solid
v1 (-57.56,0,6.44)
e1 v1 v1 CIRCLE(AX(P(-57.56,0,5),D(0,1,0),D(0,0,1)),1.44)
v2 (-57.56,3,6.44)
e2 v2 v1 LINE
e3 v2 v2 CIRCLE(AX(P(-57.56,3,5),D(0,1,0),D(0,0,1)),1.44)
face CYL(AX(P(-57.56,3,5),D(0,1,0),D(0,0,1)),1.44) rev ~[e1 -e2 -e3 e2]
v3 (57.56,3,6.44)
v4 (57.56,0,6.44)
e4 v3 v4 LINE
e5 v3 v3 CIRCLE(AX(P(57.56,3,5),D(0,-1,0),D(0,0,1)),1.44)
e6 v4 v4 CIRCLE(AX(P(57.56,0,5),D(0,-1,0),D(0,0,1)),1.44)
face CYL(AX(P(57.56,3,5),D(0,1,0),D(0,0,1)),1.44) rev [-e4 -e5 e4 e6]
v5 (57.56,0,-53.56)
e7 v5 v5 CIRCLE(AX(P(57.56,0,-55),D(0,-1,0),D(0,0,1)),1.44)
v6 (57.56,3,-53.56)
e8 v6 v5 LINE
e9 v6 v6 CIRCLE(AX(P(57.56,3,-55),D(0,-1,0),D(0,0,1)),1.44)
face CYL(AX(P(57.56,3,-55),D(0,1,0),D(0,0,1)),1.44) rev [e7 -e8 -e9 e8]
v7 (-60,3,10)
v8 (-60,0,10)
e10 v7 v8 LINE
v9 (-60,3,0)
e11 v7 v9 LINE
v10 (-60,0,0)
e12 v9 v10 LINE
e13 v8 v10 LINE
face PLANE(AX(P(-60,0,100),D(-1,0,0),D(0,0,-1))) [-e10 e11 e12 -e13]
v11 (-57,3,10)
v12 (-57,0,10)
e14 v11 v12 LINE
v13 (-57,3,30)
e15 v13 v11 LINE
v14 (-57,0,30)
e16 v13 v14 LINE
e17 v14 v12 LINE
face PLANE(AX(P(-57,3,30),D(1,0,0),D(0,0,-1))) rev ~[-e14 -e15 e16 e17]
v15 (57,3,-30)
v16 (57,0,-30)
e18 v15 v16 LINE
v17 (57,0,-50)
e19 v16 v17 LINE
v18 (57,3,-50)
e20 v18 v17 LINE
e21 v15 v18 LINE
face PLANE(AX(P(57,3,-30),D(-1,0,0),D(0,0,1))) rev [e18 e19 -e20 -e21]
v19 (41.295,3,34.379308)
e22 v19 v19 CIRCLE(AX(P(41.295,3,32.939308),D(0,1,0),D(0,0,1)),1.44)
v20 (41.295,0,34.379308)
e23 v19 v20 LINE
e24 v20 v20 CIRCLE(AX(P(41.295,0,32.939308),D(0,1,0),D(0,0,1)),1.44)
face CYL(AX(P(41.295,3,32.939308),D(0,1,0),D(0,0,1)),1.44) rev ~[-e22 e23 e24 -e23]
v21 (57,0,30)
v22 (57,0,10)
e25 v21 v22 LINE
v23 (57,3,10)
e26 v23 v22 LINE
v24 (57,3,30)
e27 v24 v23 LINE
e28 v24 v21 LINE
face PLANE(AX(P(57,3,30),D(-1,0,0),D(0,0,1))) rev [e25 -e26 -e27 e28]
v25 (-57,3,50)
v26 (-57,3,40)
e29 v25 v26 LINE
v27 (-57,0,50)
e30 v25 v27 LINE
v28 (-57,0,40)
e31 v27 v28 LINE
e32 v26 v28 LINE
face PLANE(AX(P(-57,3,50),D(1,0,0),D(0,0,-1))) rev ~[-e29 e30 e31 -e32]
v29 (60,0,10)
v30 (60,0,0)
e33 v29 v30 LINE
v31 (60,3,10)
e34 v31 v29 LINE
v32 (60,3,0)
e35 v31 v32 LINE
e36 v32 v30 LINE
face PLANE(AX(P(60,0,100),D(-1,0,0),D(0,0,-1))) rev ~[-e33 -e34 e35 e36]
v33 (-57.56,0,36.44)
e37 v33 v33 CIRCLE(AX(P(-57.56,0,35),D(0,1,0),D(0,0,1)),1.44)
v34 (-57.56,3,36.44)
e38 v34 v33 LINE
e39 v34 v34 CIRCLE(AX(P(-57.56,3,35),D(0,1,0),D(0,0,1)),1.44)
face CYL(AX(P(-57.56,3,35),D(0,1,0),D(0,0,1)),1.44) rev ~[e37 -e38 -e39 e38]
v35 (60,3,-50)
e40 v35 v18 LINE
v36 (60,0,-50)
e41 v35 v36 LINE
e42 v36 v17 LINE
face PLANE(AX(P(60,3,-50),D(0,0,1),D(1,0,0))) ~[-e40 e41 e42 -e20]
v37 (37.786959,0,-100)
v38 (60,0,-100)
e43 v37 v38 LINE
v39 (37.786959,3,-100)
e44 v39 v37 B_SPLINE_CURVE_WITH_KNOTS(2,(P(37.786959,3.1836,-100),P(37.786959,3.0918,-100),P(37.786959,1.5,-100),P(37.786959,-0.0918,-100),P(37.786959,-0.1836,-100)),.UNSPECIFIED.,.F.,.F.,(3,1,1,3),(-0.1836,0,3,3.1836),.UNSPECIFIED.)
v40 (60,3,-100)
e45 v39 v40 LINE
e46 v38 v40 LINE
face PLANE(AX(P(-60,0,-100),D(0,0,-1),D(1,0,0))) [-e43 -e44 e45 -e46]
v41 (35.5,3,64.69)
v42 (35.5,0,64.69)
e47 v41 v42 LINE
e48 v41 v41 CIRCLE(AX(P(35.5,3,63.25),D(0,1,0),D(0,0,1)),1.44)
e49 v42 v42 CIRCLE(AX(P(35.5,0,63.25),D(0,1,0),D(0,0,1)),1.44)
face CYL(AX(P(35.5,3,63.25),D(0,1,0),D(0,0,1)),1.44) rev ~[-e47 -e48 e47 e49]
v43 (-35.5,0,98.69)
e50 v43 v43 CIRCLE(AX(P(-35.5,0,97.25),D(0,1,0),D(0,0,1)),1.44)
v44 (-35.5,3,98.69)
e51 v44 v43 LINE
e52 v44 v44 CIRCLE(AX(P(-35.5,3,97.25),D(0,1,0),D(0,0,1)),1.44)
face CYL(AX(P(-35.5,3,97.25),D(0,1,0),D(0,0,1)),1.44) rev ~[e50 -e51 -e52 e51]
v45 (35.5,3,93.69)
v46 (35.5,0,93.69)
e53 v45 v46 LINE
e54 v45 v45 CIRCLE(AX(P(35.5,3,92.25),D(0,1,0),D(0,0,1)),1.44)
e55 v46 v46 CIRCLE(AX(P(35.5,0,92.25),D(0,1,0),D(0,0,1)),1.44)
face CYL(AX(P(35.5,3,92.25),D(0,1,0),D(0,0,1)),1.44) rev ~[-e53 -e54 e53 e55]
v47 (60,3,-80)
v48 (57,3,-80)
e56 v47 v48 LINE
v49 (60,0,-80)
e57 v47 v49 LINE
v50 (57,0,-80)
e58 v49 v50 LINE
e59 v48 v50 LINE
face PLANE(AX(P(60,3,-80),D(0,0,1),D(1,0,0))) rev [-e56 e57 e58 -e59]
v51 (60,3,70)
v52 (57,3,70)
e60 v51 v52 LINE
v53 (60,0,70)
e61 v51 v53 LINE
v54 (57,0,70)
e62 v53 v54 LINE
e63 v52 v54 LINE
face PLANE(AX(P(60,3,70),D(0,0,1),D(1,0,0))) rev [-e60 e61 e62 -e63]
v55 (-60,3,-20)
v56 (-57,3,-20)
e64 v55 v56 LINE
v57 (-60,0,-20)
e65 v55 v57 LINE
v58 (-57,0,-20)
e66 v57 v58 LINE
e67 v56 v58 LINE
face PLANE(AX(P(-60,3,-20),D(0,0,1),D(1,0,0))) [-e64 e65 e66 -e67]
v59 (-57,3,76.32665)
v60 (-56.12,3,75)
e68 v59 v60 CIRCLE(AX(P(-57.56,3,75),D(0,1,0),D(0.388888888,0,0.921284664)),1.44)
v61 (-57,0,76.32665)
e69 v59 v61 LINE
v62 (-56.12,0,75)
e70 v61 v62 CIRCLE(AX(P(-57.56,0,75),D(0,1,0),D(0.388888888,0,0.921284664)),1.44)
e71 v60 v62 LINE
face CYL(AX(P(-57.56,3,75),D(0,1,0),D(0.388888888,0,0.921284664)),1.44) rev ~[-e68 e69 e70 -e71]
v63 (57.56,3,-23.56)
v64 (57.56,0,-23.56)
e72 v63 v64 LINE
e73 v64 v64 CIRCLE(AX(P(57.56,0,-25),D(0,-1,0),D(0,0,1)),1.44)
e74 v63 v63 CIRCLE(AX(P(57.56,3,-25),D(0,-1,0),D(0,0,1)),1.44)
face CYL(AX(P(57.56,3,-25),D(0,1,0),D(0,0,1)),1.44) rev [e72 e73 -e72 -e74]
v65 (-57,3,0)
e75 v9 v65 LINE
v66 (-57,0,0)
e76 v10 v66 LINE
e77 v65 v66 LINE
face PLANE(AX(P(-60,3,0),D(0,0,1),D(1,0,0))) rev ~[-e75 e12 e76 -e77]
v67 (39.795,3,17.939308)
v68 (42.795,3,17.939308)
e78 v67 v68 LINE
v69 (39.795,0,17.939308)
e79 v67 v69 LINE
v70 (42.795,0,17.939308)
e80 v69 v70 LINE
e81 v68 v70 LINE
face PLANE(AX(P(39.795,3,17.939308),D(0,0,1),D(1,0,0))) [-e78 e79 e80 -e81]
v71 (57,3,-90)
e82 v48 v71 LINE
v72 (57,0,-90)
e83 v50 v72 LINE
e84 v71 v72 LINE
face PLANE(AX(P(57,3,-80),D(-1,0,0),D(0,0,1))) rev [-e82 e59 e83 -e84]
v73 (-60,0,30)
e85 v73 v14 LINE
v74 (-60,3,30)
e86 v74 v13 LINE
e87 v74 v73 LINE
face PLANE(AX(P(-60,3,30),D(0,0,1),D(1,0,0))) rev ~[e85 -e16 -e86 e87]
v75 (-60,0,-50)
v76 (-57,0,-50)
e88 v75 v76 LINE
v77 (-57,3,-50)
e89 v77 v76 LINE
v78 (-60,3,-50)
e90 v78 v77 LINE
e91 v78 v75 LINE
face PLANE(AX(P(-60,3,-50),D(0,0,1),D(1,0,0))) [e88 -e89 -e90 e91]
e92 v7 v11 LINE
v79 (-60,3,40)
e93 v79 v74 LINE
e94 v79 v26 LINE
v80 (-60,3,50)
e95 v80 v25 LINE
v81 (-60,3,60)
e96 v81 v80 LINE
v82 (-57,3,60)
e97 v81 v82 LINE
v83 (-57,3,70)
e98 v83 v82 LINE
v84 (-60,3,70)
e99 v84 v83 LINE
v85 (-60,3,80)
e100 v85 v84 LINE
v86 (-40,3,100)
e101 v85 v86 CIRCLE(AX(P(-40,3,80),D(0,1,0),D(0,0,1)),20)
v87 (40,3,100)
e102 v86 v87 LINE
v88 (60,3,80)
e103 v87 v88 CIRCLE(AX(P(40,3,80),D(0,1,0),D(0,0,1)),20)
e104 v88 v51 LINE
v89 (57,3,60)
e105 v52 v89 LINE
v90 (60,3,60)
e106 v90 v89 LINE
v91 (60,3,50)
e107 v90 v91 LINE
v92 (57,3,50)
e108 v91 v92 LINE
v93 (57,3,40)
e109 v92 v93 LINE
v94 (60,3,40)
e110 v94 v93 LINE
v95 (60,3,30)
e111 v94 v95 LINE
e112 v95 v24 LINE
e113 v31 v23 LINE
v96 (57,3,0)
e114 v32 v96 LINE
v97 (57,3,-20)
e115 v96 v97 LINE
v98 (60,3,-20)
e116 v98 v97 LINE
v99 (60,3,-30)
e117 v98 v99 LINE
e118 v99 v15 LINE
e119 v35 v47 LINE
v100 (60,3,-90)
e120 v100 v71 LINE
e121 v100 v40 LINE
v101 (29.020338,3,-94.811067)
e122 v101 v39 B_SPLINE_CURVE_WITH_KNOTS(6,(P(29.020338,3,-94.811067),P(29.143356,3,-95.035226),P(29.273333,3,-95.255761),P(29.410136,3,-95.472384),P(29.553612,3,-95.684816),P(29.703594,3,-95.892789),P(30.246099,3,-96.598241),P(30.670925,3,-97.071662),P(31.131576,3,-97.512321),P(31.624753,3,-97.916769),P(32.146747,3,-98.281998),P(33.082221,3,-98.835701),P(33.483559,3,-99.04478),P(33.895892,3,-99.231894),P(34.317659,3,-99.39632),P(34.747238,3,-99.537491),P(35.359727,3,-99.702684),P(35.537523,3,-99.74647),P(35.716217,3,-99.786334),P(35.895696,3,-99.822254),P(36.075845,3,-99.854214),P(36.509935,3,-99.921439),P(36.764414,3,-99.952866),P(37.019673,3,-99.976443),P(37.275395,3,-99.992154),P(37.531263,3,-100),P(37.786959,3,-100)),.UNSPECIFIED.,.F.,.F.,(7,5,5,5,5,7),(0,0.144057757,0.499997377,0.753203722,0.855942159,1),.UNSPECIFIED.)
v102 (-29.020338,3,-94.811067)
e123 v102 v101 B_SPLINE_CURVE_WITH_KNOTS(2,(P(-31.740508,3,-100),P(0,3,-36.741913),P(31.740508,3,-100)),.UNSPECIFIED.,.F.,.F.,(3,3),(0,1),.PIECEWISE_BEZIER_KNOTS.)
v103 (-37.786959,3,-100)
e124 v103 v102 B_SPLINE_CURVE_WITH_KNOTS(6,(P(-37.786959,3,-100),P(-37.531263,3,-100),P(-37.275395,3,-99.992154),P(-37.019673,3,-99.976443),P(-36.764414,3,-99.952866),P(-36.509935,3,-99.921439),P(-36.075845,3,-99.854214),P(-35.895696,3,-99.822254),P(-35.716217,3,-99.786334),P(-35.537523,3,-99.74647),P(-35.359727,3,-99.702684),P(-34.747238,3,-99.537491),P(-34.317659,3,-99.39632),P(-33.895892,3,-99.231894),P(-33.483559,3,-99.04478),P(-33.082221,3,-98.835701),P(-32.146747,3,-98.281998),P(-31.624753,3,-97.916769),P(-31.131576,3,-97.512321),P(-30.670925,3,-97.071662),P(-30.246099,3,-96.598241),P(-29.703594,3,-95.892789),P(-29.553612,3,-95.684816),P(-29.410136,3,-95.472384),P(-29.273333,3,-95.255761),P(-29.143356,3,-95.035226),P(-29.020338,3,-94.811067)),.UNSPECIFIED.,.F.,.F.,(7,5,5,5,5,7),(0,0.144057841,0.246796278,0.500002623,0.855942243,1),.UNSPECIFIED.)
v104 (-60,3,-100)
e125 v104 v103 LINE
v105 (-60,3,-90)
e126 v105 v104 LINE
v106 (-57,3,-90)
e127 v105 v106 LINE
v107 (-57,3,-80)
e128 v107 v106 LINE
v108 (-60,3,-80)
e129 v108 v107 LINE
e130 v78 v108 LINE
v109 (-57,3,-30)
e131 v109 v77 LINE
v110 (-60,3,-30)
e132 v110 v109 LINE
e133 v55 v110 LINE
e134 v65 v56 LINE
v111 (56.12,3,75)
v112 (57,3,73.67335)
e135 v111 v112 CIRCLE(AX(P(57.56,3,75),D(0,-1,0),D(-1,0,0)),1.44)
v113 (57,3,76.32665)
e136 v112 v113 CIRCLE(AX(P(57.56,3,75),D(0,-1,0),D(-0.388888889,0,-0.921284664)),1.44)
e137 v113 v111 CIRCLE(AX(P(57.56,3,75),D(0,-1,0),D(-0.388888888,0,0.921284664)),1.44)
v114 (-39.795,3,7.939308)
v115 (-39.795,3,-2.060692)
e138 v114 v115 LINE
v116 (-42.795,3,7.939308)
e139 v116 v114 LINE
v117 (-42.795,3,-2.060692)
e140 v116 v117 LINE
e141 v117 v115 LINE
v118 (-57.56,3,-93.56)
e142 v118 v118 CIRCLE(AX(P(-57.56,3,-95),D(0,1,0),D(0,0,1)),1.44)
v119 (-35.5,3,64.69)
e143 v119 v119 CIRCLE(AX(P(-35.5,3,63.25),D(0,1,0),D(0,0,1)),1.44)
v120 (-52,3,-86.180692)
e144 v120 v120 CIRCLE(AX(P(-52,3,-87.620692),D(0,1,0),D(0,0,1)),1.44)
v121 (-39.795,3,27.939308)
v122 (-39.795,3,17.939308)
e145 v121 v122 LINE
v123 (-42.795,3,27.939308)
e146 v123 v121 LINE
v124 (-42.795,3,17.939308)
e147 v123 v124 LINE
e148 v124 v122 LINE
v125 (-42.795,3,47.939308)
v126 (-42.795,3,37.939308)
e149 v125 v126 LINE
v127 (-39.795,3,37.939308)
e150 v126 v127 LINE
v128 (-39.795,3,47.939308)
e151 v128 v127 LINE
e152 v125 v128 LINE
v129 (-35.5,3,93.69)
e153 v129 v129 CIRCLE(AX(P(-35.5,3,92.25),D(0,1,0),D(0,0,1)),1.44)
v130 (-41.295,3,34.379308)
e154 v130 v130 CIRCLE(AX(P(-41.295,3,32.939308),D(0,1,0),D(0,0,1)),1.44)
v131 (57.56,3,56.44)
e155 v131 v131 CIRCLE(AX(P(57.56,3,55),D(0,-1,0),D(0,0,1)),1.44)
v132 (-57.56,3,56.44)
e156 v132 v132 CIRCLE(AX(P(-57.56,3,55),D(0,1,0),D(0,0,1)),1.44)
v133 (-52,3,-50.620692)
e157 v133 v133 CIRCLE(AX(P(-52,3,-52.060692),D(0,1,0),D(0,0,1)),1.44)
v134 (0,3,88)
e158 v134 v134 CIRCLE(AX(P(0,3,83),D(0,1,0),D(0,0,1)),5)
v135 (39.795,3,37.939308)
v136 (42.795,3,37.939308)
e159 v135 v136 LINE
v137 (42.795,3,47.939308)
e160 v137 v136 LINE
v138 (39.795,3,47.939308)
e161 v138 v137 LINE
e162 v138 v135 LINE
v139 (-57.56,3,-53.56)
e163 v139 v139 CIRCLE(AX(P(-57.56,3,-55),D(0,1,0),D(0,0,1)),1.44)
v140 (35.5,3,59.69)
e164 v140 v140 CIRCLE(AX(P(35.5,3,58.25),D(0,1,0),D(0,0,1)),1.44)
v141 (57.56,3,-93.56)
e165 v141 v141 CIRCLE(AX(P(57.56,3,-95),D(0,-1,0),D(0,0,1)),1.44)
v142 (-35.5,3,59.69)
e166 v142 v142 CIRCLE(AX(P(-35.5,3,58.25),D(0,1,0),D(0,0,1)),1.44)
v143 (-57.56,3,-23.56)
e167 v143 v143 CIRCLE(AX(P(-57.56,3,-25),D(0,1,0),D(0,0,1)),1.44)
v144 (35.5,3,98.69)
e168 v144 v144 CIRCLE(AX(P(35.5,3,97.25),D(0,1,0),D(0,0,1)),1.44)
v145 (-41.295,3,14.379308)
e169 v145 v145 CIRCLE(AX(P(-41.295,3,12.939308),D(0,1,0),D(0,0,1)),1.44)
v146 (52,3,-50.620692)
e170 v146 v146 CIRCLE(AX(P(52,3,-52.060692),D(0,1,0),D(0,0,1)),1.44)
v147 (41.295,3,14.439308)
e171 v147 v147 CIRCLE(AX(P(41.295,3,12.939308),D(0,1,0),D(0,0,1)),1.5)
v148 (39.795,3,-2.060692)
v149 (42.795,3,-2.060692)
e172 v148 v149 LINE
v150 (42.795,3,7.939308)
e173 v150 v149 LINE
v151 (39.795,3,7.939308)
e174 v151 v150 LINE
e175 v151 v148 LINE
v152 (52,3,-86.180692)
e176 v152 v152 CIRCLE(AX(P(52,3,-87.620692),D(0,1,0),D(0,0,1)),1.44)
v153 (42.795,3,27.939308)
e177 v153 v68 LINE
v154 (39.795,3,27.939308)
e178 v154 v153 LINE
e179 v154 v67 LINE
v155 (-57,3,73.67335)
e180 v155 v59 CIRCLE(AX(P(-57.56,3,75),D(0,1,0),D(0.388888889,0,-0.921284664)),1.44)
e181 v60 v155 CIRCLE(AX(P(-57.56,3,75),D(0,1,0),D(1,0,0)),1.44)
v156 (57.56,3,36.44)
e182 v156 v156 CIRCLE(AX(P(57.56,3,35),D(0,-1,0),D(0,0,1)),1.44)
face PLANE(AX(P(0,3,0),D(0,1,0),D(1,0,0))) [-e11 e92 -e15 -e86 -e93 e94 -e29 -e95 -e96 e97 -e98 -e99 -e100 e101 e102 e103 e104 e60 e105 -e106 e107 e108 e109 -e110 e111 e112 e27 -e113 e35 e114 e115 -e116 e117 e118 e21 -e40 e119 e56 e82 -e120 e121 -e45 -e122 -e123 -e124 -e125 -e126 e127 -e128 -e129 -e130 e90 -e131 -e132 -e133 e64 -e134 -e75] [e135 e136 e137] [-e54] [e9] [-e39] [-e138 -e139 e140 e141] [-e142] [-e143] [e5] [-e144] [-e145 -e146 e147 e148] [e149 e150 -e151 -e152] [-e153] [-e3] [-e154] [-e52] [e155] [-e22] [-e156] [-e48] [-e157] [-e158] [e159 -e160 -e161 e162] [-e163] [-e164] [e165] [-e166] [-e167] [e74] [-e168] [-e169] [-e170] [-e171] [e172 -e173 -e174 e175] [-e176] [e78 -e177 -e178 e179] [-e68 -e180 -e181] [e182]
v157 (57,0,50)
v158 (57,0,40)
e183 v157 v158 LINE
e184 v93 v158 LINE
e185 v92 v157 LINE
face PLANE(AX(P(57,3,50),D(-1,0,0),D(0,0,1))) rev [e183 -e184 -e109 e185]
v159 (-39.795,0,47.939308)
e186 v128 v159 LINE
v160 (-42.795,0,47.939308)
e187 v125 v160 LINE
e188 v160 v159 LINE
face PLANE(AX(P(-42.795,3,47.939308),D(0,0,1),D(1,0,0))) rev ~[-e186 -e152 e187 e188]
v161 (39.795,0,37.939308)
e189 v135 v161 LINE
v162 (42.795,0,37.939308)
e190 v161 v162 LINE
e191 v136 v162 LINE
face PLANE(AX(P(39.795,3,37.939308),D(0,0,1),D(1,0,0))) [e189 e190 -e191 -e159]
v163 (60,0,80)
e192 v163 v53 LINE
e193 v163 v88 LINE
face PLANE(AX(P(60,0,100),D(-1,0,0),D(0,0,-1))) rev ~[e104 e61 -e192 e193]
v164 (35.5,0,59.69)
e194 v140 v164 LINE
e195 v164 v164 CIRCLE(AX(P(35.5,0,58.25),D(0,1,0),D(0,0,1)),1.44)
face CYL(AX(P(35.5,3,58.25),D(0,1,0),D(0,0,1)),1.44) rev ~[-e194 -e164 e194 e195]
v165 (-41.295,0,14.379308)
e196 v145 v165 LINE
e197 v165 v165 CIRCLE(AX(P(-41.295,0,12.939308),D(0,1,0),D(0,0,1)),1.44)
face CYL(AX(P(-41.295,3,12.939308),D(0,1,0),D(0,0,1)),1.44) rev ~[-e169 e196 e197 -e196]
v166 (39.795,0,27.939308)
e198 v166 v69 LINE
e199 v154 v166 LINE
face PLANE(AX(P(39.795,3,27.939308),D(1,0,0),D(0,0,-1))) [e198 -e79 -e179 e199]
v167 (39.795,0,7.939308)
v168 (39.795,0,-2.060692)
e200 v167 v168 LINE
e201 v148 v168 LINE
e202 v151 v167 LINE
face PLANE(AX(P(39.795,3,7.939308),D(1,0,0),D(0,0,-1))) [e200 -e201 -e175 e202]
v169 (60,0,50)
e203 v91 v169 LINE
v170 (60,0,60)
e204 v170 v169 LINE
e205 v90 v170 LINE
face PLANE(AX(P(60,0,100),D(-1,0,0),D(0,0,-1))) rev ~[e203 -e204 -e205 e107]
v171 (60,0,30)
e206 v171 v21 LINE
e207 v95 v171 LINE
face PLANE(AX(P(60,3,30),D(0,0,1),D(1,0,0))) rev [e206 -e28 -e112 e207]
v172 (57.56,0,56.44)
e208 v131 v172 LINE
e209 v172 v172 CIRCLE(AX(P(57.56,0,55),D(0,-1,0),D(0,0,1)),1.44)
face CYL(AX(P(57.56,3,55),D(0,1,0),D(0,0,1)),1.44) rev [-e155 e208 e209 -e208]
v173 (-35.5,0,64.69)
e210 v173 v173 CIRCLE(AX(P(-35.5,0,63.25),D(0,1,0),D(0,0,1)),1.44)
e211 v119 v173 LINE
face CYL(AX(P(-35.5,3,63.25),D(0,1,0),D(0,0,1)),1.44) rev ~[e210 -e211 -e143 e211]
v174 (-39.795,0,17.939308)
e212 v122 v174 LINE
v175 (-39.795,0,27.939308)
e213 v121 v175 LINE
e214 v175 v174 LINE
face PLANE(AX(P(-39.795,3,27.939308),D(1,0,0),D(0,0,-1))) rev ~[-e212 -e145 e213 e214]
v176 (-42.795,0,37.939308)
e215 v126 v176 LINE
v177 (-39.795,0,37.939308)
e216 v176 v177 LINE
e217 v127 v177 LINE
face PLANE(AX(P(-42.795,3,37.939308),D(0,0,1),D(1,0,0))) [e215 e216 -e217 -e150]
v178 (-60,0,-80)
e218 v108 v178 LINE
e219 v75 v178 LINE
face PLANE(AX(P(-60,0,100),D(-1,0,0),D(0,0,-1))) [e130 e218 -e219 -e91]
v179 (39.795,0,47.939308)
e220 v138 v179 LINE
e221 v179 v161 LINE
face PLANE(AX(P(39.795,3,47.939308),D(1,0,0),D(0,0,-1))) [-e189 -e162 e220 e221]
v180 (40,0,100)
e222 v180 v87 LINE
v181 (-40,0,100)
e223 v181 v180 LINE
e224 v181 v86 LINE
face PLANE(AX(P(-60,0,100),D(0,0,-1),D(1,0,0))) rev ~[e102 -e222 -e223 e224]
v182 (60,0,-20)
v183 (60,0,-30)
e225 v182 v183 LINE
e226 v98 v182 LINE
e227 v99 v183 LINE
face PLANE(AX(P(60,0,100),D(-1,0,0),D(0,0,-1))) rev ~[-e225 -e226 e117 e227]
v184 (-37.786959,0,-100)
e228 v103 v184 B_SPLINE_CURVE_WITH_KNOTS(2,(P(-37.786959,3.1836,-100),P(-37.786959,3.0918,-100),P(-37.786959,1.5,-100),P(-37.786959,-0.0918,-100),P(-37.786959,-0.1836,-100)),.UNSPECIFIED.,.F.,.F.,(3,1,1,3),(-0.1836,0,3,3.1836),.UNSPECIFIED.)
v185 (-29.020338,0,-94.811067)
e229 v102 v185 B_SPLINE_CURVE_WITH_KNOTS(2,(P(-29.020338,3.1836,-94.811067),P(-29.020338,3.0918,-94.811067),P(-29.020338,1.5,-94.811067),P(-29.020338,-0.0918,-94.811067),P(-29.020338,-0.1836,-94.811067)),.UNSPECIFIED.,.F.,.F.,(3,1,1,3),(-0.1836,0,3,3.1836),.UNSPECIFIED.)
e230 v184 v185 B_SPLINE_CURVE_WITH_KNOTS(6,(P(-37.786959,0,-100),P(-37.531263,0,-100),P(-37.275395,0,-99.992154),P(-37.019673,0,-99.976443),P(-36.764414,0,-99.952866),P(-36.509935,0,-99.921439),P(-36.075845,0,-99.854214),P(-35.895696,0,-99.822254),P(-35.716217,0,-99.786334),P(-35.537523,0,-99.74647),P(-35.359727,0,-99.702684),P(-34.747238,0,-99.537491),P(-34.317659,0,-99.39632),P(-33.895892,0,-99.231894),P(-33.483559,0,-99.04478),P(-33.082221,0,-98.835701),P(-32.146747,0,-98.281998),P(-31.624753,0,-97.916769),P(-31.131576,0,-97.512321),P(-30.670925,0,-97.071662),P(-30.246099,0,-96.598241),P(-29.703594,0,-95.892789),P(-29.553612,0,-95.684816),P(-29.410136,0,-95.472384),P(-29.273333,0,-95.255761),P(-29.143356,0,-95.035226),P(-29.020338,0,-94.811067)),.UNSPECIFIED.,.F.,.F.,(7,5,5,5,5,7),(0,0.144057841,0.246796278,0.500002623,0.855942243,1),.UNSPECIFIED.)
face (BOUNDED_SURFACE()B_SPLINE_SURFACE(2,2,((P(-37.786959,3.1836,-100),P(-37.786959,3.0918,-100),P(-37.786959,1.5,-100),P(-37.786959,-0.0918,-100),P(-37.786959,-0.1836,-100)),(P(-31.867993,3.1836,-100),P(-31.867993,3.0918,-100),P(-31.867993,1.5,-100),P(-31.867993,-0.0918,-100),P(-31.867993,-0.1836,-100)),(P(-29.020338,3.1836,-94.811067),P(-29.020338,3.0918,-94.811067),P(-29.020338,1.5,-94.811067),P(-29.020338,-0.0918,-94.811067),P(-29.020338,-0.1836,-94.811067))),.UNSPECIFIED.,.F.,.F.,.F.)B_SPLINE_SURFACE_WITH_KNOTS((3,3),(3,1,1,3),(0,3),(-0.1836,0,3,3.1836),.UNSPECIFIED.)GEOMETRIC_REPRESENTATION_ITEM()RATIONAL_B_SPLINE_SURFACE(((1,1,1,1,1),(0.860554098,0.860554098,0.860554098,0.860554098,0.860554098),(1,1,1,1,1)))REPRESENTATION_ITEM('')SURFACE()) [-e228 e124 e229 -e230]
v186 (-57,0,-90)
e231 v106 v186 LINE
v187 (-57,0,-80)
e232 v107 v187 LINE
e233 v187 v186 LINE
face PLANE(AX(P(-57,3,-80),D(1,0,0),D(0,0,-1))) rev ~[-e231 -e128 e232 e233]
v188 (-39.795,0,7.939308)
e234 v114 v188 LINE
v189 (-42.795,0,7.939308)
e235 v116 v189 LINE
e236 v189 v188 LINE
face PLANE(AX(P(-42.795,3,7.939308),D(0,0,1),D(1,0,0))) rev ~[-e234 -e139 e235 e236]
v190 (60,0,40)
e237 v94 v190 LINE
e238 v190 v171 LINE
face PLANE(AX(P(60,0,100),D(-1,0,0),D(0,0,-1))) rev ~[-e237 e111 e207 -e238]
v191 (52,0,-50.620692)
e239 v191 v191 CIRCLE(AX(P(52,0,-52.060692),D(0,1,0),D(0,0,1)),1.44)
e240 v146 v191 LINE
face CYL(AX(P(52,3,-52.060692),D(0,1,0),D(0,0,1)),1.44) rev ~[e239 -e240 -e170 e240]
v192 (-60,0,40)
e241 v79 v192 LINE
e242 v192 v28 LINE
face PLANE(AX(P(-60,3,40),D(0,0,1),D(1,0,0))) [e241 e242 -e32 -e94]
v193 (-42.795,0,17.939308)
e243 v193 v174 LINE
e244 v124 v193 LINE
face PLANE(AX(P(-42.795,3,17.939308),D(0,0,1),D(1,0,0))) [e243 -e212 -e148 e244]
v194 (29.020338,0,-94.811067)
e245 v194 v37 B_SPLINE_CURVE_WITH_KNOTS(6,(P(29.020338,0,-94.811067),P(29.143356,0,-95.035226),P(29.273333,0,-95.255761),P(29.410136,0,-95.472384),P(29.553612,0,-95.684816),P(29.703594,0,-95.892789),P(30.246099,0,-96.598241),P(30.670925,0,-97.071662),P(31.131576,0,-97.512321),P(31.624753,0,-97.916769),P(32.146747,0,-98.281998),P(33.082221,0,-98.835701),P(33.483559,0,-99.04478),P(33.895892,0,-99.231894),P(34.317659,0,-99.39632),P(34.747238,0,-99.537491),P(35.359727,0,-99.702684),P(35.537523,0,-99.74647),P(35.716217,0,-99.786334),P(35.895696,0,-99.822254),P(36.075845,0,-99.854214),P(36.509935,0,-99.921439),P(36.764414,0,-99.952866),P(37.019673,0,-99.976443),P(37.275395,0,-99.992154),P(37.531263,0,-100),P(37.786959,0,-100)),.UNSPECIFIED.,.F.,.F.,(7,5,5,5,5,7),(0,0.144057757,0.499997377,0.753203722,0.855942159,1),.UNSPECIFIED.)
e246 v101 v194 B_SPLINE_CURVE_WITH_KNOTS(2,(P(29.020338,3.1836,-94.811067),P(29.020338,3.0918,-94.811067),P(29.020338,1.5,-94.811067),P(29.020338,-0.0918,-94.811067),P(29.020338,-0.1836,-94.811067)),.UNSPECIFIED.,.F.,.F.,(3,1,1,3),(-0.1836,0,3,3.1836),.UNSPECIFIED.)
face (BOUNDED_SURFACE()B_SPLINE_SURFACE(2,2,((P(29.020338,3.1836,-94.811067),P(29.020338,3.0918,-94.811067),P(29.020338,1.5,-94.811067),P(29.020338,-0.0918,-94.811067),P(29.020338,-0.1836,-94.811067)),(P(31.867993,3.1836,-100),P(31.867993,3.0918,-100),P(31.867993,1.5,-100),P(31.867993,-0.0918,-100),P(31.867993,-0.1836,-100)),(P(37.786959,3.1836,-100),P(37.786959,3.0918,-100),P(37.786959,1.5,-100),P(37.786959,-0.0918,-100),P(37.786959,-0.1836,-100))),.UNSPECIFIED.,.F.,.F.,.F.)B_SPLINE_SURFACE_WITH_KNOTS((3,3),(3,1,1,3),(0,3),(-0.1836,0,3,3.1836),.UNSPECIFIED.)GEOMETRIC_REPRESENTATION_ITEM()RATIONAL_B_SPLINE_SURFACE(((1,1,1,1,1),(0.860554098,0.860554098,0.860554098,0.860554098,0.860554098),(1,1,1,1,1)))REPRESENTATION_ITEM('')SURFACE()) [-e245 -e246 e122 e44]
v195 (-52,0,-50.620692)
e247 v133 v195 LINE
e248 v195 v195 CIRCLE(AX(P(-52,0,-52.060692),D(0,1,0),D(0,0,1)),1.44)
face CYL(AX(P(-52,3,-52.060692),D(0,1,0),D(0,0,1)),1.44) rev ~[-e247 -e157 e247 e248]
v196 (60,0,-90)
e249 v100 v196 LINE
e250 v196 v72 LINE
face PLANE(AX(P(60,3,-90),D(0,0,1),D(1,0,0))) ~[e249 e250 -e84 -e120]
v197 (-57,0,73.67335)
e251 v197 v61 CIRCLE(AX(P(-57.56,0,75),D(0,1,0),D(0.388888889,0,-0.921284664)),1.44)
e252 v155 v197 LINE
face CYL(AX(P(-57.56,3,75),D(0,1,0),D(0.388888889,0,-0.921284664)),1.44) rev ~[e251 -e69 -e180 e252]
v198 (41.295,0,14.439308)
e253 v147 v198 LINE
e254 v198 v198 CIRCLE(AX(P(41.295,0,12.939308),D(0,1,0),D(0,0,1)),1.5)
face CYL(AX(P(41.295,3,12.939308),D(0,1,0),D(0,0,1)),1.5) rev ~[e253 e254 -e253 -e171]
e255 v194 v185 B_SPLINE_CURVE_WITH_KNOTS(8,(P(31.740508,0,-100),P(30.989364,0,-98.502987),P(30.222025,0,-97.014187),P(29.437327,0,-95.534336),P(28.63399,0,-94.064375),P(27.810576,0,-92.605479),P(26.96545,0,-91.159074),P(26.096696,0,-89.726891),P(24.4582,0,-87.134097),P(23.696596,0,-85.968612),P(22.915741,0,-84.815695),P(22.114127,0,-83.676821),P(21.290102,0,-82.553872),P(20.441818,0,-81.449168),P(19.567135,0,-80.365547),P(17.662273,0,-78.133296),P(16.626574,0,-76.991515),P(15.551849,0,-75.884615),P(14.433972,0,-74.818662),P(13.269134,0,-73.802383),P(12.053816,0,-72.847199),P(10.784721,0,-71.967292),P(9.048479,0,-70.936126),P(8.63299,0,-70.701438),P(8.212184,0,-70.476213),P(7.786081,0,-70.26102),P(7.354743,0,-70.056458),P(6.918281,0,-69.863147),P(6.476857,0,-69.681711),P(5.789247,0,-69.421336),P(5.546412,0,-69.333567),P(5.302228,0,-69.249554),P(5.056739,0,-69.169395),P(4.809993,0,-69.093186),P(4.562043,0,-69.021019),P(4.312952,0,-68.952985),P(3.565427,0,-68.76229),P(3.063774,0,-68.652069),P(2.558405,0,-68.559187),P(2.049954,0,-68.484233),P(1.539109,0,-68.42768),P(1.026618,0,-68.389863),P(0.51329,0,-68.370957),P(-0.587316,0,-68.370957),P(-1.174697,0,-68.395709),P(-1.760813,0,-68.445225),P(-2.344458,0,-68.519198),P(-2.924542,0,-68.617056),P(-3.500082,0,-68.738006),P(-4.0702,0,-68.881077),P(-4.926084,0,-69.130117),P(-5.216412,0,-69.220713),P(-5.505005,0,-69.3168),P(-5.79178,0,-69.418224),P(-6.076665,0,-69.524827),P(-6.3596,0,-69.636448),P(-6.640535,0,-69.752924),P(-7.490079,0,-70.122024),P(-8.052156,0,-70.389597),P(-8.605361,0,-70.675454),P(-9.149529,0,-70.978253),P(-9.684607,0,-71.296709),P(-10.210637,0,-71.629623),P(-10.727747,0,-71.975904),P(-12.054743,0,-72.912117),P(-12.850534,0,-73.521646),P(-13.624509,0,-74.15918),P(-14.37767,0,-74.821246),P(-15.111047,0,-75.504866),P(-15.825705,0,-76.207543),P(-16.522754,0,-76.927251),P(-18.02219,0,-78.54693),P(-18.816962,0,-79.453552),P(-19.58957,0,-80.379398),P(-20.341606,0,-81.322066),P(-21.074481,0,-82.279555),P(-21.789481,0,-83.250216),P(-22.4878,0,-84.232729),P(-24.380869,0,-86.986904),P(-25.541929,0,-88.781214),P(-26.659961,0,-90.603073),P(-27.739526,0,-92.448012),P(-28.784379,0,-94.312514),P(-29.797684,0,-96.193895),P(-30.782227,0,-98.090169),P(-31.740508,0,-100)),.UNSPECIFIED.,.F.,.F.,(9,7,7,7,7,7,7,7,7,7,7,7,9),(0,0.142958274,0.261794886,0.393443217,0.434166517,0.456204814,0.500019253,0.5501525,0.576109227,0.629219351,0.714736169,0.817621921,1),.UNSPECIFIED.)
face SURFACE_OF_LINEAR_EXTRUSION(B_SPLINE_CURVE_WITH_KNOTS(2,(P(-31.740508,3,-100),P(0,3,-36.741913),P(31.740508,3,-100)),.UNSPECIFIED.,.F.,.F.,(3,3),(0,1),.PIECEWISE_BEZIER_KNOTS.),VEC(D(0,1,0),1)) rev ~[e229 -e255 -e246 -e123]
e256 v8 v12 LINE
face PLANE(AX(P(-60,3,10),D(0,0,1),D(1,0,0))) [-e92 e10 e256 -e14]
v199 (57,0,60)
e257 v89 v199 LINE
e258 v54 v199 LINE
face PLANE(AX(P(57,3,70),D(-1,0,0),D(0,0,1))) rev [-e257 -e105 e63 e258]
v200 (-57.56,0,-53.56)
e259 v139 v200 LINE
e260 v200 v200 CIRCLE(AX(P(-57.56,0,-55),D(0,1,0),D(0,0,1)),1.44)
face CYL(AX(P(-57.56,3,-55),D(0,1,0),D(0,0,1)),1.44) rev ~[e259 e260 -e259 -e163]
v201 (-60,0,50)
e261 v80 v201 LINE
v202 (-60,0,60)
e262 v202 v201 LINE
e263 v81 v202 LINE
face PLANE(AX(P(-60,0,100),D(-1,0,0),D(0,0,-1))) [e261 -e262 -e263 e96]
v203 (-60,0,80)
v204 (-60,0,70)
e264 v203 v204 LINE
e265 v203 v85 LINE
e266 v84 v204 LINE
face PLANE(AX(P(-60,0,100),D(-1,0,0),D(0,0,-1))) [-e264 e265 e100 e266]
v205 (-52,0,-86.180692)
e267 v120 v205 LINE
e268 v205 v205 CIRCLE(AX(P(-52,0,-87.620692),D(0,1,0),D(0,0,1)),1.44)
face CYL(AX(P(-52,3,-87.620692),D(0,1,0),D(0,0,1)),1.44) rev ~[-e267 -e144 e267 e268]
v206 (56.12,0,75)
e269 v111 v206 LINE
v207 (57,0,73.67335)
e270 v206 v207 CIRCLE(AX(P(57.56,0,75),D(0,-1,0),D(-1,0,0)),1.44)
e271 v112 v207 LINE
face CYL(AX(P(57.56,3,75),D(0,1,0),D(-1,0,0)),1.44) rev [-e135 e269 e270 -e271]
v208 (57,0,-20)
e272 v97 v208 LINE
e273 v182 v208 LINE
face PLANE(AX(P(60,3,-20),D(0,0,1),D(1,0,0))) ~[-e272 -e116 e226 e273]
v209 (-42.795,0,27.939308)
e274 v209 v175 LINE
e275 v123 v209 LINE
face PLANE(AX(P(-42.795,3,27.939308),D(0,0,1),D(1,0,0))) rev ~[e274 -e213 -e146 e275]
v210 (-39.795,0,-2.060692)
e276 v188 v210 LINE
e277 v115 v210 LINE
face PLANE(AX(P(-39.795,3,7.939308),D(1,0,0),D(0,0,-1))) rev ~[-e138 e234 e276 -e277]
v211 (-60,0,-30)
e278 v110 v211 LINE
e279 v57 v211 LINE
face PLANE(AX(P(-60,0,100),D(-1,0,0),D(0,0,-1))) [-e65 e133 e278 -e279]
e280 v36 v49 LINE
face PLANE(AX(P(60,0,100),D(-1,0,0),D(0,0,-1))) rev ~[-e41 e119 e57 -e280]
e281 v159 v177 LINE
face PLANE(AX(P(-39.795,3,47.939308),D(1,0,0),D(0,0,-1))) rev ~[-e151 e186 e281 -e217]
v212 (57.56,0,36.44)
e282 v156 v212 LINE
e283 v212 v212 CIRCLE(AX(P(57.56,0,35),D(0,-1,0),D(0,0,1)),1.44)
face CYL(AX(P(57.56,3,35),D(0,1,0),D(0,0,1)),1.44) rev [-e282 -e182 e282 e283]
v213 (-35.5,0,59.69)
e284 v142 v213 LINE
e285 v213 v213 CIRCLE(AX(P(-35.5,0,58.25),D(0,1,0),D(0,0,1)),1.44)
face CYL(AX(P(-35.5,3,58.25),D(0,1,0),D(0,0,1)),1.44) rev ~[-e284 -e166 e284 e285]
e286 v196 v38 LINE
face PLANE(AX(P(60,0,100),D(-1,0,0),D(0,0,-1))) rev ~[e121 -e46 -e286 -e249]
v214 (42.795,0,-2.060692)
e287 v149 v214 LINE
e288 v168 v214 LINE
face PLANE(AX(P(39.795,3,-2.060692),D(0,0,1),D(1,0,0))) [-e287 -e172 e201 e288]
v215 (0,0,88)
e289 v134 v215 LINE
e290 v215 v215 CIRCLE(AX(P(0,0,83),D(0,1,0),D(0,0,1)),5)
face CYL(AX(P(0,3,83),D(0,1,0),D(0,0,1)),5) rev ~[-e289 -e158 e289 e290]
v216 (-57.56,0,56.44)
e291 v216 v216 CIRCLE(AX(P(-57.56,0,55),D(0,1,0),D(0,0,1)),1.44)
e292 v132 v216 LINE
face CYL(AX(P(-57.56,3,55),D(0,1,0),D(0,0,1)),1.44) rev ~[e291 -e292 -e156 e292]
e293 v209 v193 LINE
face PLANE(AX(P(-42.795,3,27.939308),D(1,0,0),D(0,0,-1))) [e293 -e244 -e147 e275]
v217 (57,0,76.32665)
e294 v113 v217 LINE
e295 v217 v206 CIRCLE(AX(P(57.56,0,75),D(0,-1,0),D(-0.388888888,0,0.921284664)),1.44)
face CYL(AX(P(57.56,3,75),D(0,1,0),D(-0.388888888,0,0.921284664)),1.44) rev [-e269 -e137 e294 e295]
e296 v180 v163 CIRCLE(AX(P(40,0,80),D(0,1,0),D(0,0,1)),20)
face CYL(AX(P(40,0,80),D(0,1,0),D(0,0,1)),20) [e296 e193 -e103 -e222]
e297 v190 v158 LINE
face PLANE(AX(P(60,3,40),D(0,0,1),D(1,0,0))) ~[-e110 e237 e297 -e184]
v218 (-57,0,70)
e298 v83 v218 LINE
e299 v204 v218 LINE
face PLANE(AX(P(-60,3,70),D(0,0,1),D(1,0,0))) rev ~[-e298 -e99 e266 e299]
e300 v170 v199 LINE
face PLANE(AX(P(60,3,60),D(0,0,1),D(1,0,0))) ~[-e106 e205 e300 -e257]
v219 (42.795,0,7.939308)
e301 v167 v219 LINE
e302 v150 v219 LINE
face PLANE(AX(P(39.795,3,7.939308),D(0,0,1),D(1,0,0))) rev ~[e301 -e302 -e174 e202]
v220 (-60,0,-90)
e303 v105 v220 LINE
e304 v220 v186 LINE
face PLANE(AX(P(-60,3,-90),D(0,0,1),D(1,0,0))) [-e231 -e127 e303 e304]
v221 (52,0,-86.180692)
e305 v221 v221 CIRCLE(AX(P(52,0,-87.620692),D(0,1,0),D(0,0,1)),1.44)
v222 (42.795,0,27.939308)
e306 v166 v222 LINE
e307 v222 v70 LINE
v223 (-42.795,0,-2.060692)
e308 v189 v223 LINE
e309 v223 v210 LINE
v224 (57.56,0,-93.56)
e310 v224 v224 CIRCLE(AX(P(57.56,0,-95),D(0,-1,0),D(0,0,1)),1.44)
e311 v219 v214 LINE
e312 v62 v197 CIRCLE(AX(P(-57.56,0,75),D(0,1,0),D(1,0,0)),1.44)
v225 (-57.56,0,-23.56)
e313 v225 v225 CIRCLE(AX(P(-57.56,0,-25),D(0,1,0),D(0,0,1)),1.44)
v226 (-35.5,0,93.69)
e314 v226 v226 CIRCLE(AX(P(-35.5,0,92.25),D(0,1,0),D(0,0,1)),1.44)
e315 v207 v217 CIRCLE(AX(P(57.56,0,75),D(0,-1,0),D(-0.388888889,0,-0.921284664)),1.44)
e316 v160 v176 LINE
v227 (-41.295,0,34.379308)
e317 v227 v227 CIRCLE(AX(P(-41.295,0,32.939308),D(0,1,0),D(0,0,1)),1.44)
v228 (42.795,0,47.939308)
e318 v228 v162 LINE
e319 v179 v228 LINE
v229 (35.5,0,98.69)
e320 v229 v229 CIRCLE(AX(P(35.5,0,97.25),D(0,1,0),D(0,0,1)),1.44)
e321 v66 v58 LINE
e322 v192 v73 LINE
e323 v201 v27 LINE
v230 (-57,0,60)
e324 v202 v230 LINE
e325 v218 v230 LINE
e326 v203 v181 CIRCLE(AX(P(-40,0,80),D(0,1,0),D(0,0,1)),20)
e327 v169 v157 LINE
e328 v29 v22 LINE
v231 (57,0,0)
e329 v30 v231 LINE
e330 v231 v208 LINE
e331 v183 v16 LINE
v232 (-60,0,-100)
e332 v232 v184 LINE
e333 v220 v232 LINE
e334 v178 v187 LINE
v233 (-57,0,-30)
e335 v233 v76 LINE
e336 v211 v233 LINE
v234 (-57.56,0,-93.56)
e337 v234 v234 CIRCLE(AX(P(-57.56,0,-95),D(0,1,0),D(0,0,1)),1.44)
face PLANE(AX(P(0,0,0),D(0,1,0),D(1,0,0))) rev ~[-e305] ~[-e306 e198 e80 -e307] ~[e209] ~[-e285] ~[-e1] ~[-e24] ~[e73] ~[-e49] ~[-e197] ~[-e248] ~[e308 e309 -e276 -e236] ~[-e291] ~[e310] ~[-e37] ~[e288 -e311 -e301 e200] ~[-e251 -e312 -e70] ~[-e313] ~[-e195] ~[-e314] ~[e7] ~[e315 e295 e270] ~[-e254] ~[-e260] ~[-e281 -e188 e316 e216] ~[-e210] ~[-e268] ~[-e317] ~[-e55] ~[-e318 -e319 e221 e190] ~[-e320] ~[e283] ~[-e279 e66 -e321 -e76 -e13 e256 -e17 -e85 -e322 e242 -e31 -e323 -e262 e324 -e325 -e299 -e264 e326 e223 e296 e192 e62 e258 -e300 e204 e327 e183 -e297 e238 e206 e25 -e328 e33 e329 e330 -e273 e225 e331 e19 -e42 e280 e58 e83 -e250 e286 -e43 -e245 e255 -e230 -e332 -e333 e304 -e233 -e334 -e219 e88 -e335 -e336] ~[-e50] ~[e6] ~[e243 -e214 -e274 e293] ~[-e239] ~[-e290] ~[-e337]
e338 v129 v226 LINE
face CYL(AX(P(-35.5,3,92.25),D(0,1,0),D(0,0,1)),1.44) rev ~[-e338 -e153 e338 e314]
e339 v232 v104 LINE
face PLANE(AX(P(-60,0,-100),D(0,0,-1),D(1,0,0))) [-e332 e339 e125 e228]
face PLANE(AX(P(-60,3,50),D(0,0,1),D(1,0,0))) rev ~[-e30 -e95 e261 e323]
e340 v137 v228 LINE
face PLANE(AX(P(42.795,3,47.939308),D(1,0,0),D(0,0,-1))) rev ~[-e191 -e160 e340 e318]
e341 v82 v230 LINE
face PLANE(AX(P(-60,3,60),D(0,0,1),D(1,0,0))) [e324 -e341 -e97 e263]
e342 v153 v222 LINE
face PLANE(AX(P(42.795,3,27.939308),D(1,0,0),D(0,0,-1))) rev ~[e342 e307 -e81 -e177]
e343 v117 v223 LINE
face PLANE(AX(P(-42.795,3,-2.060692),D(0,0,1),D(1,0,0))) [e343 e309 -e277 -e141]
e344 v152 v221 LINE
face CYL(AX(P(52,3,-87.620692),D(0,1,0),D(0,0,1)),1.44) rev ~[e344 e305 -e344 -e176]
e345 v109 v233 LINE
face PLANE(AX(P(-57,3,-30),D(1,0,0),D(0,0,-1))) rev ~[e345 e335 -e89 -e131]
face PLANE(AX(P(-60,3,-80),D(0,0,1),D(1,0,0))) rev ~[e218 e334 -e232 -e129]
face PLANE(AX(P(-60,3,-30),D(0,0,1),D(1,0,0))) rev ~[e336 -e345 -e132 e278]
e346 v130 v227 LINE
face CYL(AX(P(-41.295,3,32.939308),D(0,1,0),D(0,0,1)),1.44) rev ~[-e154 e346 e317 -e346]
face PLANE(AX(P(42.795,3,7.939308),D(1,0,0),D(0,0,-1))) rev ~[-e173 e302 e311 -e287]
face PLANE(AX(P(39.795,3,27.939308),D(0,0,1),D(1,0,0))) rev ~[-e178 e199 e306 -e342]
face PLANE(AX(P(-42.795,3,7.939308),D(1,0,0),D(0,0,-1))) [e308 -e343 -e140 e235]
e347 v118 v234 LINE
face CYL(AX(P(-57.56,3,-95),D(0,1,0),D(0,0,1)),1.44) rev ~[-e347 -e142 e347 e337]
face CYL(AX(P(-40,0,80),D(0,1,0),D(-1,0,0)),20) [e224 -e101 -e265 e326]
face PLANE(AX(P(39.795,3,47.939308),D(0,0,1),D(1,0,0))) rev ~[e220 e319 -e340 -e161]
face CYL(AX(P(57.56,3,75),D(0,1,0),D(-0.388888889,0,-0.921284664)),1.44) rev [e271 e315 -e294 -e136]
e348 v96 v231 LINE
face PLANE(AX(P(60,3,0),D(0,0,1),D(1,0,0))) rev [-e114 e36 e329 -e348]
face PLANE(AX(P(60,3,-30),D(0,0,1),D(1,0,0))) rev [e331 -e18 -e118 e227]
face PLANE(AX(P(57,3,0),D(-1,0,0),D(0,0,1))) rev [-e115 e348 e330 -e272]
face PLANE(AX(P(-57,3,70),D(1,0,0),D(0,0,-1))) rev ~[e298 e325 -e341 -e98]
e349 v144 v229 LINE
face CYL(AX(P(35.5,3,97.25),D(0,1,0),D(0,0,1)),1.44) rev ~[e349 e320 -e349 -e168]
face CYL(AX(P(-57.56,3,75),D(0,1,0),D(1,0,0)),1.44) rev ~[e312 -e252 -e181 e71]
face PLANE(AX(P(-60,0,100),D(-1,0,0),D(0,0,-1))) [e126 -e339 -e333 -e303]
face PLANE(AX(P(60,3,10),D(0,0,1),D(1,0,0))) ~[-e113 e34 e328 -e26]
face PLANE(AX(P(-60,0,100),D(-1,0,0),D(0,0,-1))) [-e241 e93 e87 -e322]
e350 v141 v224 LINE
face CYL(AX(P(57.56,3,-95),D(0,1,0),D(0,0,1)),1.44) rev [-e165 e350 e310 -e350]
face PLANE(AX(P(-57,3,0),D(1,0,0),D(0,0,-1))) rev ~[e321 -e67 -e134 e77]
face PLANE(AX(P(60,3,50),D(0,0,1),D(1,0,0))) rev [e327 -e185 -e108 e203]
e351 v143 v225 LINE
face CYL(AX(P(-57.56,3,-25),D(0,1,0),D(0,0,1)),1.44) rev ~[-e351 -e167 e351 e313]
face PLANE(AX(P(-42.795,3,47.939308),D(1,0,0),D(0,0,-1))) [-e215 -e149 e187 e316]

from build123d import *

# Parameters (mm, degrees)
SKETCH1_W           = 120
SKETCH1_H           = 200
BOSS_EXTRUDE1_DEPTH = 3
SKETCH2_R           = 5
SKETCH2_R_2         = 1.44
SKETCH2_W           = 3
SKETCH2_H           = 10
SKETCH2_R_3         = 1.5
CUT_EXTRUDE1_DEPTH  = 117.657618697
FILLET1_R           = 20
CUT_EXTRUDE2_DEPTH  = 117.657618697
FILLET2_R           = 10
SKETCH4_W           = 3
SKETCH4_H           = 10
SKETCH4_R           = 1.44
CUT_EXTRUDE3_DEPTH  = 3


with BuildPart() as part:
    # Sketch1 → Boss-Extrude1 (new body)
    with BuildSketch(Plane(origin=(0, 0, 0), x_dir=(1, 0, 0), z_dir=(0, 1, 0))):
        Rectangle(SKETCH1_W, SKETCH1_H)
    extrude(amount=BOSS_EXTRUDE1_DEPTH)

    # Sketch2 → Cut-Extrude1 (cut, through all)
    with BuildSketch(Plane(origin=(0, 3, 0), x_dir=(1, 0, 0), z_dir=(0, 1, 0))):
        with Locations(Location((0, -83, 0), (0, 0, 270))):
            Circle(SKETCH2_R)
        with Locations(Location((-35.5, -92.25, 0), (0, 0, 270))):
            Circle(SKETCH2_R_2)
        with Locations(Location((-35.5, -97.25, 0), (0, 0, 270))):
            Circle(SKETCH2_R_2)
        with Locations(Location((-35.5, -63.25, 0), (0, 0, 270))):
            Circle(SKETCH2_R_2)
        with Locations(Location((-35.5, -58.25, 0), (0, 0, 270))):
            Circle(SKETCH2_R_2)
        with Locations(Location((35.5, -58.25, 0), (0, 0, 270))):
            Circle(SKETCH2_R_2)
        with Locations(Location((35.5, -63.25, 0), (0, 0, 270))):
            Circle(SKETCH2_R_2)
        with Locations(Location((35.5, -97.25, 0), (0, 0, 270))):
            Circle(SKETCH2_R_2)
        with Locations(Location((35.5, -92.25, 0), (0, 0, 270))):
            Circle(SKETCH2_R_2)
        with Locations((41.295, -42.939307889)):
            Rectangle(SKETCH2_W, SKETCH2_H)
        with Locations(Location((41.295, -32.939307889, 0), (0, 0, 270))):
            Circle(SKETCH2_R_2)
        with Locations((41.295, -22.939307889)):
            Rectangle(SKETCH2_W, SKETCH2_H)
        with Locations((41.295, -2.939307889)):
            Rectangle(SKETCH2_W, SKETCH2_H)
        with Locations(Location((41.295, -12.939307889, 0), (0, 0, 270))):
            Circle(SKETCH2_R_3)
        with Locations((-41.295, -42.939307889)):
            Rectangle(SKETCH2_W, SKETCH2_H)
        with Locations(Location((-41.295, -32.939307889, 0), (0, 0, 270))):
            Circle(SKETCH2_R_2)
        with Locations((-41.295, -22.939307889)):
            Rectangle(SKETCH2_W, SKETCH2_H)
        with Locations(Location((-41.295, -12.939307889, 0), (0, 0, 270))):
            Circle(SKETCH2_R_2)
        with Locations((-41.295, -2.939307889)):
            Rectangle(SKETCH2_W, SKETCH2_H)
        with Locations(Location((52, 52.060692111, 0), (0, 0, 270))):
            Circle(SKETCH2_R_2)
        with Locations(Location((52, 87.620692111, 0), (0, 0, 270))):
            Circle(SKETCH2_R_2)
        with Locations(Location((-52, 52.060692111, 0), (0, 0, 270))):
            Circle(SKETCH2_R_2)
        with Locations(Location((-52, 87.620692111, 0), (0, 0, 270))):
            Circle(SKETCH2_R_2)
    extrude(amount=-CUT_EXTRUDE1_DEPTH, mode=Mode.SUBTRACT)

    # Fillet1
    fillet1_edges = [part.edges().sort_by_distance(p)[0] for p in [
        (60, 1.5, 100),
        (-60, 1.5, 100),
    ]]
    fillet(fillet1_edges, radius=FILLET1_R)

    # Sketch3 → Cut-Extrude2 (cut, through all)
    with BuildSketch(Plane(origin=(0, 3, 0), x_dir=(1, 0, 0), z_dir=(0, 1, 0))):
        with BuildLine():
            Line((-31.74050772, 100), (31.74050772, 100))
            add(Edge.make_bspline(
                [(-31.74050772, 100), (0, 36.741913205), (31.74050772, 100)],
                knots=[0, 0, 0, 1, 1, 1], degree=2))
        make_face()
    extrude(amount=-CUT_EXTRUDE2_DEPTH, mode=Mode.SUBTRACT)

    # Fillet2
    fillet2_edges = [part.edges().sort_by_distance(p)[0] for p in [
        (31.74050772, 1.5, -100),
        (-31.74050772, 1.5, -100),
    ]]
    fillet(fillet2_edges, radius=FILLET2_R)

    # Sketch4 → Cut-Extrude3 (cut)
    with BuildSketch(Plane(origin=(0, 3, 0), x_dir=(1, 0, 0), z_dir=(0, 1, 0))):
        with BuildLine():
            ThreePointArc((-56.12, -75), (-56.36, -74.20401005), (-57, -73.673350084))
            Line((-57, -73.673350084), (-57, -76.326649916))
            ThreePointArc((-57, -76.326649916), (-56.36, -75.79598995), (-56.12, -75))
        make_face()
        with BuildLine():
            Line((-57, -76.326649916), (-57, -73.673350084))
            ThreePointArc((-57, -73.673350084), (-59, -75), (-57, -76.326649916))
        make_face()
        with Locations((-58.5, -65)):
            Rectangle(SKETCH4_W, SKETCH4_H)
        with Locations((-58.5, -45)):
            Rectangle(SKETCH4_W, SKETCH4_H)
        with Locations((-58.5, -25)):
            Rectangle(SKETCH4_W, SKETCH4_H)
        with Locations((-58.5, -15)):
            Rectangle(SKETCH4_W, SKETCH4_H)
        with Locations((-58.5, 5)):
            Rectangle(SKETCH4_W, SKETCH4_H)
        with Locations((-58.5, 15)):
            Rectangle(SKETCH4_W, SKETCH4_H)
        with Locations((-58.5, 45)):
            Rectangle(SKETCH4_W, SKETCH4_H)
        with Locations((-58.5, 35)):
            Rectangle(SKETCH4_W, SKETCH4_H)
        with Locations((-58.5, 85)):
            Rectangle(SKETCH4_W, SKETCH4_H)
        with Locations(Location((-57.56, -55, 0), (0, 0, 270))):
            Circle(SKETCH4_R)
        with Locations(Location((-57.56, -35, 0), (0, 0, 270))):
            Circle(SKETCH4_R)
        with Locations(Location((-57.56, -5, 0), (0, 0, 270))):
            Circle(SKETCH4_R)
        with Locations(Location((-57.56, 25, 0), (0, 0, 270))):
            Circle(SKETCH4_R)
        with Locations(Location((-57.56, 55, 0), (0, 0, 270))):
            Circle(SKETCH4_R)
        with Locations(Location((-57.56, 95, 0), (0, 0, 270))):
            Circle(SKETCH4_R)
    cut_extrude3 = extrude(amount=-CUT_EXTRUDE3_DEPTH, mode=Mode.SUBTRACT)

    # Mirror1: Cut-Extrude3 across plane
    add(cut_extrude3.mirror(Plane(origin=(0, 0, 0), x_dir=(0, 0, 1), z_dir=(1, 0, 0))), mode=Mode.SUBTRACT)


solid = part.part
